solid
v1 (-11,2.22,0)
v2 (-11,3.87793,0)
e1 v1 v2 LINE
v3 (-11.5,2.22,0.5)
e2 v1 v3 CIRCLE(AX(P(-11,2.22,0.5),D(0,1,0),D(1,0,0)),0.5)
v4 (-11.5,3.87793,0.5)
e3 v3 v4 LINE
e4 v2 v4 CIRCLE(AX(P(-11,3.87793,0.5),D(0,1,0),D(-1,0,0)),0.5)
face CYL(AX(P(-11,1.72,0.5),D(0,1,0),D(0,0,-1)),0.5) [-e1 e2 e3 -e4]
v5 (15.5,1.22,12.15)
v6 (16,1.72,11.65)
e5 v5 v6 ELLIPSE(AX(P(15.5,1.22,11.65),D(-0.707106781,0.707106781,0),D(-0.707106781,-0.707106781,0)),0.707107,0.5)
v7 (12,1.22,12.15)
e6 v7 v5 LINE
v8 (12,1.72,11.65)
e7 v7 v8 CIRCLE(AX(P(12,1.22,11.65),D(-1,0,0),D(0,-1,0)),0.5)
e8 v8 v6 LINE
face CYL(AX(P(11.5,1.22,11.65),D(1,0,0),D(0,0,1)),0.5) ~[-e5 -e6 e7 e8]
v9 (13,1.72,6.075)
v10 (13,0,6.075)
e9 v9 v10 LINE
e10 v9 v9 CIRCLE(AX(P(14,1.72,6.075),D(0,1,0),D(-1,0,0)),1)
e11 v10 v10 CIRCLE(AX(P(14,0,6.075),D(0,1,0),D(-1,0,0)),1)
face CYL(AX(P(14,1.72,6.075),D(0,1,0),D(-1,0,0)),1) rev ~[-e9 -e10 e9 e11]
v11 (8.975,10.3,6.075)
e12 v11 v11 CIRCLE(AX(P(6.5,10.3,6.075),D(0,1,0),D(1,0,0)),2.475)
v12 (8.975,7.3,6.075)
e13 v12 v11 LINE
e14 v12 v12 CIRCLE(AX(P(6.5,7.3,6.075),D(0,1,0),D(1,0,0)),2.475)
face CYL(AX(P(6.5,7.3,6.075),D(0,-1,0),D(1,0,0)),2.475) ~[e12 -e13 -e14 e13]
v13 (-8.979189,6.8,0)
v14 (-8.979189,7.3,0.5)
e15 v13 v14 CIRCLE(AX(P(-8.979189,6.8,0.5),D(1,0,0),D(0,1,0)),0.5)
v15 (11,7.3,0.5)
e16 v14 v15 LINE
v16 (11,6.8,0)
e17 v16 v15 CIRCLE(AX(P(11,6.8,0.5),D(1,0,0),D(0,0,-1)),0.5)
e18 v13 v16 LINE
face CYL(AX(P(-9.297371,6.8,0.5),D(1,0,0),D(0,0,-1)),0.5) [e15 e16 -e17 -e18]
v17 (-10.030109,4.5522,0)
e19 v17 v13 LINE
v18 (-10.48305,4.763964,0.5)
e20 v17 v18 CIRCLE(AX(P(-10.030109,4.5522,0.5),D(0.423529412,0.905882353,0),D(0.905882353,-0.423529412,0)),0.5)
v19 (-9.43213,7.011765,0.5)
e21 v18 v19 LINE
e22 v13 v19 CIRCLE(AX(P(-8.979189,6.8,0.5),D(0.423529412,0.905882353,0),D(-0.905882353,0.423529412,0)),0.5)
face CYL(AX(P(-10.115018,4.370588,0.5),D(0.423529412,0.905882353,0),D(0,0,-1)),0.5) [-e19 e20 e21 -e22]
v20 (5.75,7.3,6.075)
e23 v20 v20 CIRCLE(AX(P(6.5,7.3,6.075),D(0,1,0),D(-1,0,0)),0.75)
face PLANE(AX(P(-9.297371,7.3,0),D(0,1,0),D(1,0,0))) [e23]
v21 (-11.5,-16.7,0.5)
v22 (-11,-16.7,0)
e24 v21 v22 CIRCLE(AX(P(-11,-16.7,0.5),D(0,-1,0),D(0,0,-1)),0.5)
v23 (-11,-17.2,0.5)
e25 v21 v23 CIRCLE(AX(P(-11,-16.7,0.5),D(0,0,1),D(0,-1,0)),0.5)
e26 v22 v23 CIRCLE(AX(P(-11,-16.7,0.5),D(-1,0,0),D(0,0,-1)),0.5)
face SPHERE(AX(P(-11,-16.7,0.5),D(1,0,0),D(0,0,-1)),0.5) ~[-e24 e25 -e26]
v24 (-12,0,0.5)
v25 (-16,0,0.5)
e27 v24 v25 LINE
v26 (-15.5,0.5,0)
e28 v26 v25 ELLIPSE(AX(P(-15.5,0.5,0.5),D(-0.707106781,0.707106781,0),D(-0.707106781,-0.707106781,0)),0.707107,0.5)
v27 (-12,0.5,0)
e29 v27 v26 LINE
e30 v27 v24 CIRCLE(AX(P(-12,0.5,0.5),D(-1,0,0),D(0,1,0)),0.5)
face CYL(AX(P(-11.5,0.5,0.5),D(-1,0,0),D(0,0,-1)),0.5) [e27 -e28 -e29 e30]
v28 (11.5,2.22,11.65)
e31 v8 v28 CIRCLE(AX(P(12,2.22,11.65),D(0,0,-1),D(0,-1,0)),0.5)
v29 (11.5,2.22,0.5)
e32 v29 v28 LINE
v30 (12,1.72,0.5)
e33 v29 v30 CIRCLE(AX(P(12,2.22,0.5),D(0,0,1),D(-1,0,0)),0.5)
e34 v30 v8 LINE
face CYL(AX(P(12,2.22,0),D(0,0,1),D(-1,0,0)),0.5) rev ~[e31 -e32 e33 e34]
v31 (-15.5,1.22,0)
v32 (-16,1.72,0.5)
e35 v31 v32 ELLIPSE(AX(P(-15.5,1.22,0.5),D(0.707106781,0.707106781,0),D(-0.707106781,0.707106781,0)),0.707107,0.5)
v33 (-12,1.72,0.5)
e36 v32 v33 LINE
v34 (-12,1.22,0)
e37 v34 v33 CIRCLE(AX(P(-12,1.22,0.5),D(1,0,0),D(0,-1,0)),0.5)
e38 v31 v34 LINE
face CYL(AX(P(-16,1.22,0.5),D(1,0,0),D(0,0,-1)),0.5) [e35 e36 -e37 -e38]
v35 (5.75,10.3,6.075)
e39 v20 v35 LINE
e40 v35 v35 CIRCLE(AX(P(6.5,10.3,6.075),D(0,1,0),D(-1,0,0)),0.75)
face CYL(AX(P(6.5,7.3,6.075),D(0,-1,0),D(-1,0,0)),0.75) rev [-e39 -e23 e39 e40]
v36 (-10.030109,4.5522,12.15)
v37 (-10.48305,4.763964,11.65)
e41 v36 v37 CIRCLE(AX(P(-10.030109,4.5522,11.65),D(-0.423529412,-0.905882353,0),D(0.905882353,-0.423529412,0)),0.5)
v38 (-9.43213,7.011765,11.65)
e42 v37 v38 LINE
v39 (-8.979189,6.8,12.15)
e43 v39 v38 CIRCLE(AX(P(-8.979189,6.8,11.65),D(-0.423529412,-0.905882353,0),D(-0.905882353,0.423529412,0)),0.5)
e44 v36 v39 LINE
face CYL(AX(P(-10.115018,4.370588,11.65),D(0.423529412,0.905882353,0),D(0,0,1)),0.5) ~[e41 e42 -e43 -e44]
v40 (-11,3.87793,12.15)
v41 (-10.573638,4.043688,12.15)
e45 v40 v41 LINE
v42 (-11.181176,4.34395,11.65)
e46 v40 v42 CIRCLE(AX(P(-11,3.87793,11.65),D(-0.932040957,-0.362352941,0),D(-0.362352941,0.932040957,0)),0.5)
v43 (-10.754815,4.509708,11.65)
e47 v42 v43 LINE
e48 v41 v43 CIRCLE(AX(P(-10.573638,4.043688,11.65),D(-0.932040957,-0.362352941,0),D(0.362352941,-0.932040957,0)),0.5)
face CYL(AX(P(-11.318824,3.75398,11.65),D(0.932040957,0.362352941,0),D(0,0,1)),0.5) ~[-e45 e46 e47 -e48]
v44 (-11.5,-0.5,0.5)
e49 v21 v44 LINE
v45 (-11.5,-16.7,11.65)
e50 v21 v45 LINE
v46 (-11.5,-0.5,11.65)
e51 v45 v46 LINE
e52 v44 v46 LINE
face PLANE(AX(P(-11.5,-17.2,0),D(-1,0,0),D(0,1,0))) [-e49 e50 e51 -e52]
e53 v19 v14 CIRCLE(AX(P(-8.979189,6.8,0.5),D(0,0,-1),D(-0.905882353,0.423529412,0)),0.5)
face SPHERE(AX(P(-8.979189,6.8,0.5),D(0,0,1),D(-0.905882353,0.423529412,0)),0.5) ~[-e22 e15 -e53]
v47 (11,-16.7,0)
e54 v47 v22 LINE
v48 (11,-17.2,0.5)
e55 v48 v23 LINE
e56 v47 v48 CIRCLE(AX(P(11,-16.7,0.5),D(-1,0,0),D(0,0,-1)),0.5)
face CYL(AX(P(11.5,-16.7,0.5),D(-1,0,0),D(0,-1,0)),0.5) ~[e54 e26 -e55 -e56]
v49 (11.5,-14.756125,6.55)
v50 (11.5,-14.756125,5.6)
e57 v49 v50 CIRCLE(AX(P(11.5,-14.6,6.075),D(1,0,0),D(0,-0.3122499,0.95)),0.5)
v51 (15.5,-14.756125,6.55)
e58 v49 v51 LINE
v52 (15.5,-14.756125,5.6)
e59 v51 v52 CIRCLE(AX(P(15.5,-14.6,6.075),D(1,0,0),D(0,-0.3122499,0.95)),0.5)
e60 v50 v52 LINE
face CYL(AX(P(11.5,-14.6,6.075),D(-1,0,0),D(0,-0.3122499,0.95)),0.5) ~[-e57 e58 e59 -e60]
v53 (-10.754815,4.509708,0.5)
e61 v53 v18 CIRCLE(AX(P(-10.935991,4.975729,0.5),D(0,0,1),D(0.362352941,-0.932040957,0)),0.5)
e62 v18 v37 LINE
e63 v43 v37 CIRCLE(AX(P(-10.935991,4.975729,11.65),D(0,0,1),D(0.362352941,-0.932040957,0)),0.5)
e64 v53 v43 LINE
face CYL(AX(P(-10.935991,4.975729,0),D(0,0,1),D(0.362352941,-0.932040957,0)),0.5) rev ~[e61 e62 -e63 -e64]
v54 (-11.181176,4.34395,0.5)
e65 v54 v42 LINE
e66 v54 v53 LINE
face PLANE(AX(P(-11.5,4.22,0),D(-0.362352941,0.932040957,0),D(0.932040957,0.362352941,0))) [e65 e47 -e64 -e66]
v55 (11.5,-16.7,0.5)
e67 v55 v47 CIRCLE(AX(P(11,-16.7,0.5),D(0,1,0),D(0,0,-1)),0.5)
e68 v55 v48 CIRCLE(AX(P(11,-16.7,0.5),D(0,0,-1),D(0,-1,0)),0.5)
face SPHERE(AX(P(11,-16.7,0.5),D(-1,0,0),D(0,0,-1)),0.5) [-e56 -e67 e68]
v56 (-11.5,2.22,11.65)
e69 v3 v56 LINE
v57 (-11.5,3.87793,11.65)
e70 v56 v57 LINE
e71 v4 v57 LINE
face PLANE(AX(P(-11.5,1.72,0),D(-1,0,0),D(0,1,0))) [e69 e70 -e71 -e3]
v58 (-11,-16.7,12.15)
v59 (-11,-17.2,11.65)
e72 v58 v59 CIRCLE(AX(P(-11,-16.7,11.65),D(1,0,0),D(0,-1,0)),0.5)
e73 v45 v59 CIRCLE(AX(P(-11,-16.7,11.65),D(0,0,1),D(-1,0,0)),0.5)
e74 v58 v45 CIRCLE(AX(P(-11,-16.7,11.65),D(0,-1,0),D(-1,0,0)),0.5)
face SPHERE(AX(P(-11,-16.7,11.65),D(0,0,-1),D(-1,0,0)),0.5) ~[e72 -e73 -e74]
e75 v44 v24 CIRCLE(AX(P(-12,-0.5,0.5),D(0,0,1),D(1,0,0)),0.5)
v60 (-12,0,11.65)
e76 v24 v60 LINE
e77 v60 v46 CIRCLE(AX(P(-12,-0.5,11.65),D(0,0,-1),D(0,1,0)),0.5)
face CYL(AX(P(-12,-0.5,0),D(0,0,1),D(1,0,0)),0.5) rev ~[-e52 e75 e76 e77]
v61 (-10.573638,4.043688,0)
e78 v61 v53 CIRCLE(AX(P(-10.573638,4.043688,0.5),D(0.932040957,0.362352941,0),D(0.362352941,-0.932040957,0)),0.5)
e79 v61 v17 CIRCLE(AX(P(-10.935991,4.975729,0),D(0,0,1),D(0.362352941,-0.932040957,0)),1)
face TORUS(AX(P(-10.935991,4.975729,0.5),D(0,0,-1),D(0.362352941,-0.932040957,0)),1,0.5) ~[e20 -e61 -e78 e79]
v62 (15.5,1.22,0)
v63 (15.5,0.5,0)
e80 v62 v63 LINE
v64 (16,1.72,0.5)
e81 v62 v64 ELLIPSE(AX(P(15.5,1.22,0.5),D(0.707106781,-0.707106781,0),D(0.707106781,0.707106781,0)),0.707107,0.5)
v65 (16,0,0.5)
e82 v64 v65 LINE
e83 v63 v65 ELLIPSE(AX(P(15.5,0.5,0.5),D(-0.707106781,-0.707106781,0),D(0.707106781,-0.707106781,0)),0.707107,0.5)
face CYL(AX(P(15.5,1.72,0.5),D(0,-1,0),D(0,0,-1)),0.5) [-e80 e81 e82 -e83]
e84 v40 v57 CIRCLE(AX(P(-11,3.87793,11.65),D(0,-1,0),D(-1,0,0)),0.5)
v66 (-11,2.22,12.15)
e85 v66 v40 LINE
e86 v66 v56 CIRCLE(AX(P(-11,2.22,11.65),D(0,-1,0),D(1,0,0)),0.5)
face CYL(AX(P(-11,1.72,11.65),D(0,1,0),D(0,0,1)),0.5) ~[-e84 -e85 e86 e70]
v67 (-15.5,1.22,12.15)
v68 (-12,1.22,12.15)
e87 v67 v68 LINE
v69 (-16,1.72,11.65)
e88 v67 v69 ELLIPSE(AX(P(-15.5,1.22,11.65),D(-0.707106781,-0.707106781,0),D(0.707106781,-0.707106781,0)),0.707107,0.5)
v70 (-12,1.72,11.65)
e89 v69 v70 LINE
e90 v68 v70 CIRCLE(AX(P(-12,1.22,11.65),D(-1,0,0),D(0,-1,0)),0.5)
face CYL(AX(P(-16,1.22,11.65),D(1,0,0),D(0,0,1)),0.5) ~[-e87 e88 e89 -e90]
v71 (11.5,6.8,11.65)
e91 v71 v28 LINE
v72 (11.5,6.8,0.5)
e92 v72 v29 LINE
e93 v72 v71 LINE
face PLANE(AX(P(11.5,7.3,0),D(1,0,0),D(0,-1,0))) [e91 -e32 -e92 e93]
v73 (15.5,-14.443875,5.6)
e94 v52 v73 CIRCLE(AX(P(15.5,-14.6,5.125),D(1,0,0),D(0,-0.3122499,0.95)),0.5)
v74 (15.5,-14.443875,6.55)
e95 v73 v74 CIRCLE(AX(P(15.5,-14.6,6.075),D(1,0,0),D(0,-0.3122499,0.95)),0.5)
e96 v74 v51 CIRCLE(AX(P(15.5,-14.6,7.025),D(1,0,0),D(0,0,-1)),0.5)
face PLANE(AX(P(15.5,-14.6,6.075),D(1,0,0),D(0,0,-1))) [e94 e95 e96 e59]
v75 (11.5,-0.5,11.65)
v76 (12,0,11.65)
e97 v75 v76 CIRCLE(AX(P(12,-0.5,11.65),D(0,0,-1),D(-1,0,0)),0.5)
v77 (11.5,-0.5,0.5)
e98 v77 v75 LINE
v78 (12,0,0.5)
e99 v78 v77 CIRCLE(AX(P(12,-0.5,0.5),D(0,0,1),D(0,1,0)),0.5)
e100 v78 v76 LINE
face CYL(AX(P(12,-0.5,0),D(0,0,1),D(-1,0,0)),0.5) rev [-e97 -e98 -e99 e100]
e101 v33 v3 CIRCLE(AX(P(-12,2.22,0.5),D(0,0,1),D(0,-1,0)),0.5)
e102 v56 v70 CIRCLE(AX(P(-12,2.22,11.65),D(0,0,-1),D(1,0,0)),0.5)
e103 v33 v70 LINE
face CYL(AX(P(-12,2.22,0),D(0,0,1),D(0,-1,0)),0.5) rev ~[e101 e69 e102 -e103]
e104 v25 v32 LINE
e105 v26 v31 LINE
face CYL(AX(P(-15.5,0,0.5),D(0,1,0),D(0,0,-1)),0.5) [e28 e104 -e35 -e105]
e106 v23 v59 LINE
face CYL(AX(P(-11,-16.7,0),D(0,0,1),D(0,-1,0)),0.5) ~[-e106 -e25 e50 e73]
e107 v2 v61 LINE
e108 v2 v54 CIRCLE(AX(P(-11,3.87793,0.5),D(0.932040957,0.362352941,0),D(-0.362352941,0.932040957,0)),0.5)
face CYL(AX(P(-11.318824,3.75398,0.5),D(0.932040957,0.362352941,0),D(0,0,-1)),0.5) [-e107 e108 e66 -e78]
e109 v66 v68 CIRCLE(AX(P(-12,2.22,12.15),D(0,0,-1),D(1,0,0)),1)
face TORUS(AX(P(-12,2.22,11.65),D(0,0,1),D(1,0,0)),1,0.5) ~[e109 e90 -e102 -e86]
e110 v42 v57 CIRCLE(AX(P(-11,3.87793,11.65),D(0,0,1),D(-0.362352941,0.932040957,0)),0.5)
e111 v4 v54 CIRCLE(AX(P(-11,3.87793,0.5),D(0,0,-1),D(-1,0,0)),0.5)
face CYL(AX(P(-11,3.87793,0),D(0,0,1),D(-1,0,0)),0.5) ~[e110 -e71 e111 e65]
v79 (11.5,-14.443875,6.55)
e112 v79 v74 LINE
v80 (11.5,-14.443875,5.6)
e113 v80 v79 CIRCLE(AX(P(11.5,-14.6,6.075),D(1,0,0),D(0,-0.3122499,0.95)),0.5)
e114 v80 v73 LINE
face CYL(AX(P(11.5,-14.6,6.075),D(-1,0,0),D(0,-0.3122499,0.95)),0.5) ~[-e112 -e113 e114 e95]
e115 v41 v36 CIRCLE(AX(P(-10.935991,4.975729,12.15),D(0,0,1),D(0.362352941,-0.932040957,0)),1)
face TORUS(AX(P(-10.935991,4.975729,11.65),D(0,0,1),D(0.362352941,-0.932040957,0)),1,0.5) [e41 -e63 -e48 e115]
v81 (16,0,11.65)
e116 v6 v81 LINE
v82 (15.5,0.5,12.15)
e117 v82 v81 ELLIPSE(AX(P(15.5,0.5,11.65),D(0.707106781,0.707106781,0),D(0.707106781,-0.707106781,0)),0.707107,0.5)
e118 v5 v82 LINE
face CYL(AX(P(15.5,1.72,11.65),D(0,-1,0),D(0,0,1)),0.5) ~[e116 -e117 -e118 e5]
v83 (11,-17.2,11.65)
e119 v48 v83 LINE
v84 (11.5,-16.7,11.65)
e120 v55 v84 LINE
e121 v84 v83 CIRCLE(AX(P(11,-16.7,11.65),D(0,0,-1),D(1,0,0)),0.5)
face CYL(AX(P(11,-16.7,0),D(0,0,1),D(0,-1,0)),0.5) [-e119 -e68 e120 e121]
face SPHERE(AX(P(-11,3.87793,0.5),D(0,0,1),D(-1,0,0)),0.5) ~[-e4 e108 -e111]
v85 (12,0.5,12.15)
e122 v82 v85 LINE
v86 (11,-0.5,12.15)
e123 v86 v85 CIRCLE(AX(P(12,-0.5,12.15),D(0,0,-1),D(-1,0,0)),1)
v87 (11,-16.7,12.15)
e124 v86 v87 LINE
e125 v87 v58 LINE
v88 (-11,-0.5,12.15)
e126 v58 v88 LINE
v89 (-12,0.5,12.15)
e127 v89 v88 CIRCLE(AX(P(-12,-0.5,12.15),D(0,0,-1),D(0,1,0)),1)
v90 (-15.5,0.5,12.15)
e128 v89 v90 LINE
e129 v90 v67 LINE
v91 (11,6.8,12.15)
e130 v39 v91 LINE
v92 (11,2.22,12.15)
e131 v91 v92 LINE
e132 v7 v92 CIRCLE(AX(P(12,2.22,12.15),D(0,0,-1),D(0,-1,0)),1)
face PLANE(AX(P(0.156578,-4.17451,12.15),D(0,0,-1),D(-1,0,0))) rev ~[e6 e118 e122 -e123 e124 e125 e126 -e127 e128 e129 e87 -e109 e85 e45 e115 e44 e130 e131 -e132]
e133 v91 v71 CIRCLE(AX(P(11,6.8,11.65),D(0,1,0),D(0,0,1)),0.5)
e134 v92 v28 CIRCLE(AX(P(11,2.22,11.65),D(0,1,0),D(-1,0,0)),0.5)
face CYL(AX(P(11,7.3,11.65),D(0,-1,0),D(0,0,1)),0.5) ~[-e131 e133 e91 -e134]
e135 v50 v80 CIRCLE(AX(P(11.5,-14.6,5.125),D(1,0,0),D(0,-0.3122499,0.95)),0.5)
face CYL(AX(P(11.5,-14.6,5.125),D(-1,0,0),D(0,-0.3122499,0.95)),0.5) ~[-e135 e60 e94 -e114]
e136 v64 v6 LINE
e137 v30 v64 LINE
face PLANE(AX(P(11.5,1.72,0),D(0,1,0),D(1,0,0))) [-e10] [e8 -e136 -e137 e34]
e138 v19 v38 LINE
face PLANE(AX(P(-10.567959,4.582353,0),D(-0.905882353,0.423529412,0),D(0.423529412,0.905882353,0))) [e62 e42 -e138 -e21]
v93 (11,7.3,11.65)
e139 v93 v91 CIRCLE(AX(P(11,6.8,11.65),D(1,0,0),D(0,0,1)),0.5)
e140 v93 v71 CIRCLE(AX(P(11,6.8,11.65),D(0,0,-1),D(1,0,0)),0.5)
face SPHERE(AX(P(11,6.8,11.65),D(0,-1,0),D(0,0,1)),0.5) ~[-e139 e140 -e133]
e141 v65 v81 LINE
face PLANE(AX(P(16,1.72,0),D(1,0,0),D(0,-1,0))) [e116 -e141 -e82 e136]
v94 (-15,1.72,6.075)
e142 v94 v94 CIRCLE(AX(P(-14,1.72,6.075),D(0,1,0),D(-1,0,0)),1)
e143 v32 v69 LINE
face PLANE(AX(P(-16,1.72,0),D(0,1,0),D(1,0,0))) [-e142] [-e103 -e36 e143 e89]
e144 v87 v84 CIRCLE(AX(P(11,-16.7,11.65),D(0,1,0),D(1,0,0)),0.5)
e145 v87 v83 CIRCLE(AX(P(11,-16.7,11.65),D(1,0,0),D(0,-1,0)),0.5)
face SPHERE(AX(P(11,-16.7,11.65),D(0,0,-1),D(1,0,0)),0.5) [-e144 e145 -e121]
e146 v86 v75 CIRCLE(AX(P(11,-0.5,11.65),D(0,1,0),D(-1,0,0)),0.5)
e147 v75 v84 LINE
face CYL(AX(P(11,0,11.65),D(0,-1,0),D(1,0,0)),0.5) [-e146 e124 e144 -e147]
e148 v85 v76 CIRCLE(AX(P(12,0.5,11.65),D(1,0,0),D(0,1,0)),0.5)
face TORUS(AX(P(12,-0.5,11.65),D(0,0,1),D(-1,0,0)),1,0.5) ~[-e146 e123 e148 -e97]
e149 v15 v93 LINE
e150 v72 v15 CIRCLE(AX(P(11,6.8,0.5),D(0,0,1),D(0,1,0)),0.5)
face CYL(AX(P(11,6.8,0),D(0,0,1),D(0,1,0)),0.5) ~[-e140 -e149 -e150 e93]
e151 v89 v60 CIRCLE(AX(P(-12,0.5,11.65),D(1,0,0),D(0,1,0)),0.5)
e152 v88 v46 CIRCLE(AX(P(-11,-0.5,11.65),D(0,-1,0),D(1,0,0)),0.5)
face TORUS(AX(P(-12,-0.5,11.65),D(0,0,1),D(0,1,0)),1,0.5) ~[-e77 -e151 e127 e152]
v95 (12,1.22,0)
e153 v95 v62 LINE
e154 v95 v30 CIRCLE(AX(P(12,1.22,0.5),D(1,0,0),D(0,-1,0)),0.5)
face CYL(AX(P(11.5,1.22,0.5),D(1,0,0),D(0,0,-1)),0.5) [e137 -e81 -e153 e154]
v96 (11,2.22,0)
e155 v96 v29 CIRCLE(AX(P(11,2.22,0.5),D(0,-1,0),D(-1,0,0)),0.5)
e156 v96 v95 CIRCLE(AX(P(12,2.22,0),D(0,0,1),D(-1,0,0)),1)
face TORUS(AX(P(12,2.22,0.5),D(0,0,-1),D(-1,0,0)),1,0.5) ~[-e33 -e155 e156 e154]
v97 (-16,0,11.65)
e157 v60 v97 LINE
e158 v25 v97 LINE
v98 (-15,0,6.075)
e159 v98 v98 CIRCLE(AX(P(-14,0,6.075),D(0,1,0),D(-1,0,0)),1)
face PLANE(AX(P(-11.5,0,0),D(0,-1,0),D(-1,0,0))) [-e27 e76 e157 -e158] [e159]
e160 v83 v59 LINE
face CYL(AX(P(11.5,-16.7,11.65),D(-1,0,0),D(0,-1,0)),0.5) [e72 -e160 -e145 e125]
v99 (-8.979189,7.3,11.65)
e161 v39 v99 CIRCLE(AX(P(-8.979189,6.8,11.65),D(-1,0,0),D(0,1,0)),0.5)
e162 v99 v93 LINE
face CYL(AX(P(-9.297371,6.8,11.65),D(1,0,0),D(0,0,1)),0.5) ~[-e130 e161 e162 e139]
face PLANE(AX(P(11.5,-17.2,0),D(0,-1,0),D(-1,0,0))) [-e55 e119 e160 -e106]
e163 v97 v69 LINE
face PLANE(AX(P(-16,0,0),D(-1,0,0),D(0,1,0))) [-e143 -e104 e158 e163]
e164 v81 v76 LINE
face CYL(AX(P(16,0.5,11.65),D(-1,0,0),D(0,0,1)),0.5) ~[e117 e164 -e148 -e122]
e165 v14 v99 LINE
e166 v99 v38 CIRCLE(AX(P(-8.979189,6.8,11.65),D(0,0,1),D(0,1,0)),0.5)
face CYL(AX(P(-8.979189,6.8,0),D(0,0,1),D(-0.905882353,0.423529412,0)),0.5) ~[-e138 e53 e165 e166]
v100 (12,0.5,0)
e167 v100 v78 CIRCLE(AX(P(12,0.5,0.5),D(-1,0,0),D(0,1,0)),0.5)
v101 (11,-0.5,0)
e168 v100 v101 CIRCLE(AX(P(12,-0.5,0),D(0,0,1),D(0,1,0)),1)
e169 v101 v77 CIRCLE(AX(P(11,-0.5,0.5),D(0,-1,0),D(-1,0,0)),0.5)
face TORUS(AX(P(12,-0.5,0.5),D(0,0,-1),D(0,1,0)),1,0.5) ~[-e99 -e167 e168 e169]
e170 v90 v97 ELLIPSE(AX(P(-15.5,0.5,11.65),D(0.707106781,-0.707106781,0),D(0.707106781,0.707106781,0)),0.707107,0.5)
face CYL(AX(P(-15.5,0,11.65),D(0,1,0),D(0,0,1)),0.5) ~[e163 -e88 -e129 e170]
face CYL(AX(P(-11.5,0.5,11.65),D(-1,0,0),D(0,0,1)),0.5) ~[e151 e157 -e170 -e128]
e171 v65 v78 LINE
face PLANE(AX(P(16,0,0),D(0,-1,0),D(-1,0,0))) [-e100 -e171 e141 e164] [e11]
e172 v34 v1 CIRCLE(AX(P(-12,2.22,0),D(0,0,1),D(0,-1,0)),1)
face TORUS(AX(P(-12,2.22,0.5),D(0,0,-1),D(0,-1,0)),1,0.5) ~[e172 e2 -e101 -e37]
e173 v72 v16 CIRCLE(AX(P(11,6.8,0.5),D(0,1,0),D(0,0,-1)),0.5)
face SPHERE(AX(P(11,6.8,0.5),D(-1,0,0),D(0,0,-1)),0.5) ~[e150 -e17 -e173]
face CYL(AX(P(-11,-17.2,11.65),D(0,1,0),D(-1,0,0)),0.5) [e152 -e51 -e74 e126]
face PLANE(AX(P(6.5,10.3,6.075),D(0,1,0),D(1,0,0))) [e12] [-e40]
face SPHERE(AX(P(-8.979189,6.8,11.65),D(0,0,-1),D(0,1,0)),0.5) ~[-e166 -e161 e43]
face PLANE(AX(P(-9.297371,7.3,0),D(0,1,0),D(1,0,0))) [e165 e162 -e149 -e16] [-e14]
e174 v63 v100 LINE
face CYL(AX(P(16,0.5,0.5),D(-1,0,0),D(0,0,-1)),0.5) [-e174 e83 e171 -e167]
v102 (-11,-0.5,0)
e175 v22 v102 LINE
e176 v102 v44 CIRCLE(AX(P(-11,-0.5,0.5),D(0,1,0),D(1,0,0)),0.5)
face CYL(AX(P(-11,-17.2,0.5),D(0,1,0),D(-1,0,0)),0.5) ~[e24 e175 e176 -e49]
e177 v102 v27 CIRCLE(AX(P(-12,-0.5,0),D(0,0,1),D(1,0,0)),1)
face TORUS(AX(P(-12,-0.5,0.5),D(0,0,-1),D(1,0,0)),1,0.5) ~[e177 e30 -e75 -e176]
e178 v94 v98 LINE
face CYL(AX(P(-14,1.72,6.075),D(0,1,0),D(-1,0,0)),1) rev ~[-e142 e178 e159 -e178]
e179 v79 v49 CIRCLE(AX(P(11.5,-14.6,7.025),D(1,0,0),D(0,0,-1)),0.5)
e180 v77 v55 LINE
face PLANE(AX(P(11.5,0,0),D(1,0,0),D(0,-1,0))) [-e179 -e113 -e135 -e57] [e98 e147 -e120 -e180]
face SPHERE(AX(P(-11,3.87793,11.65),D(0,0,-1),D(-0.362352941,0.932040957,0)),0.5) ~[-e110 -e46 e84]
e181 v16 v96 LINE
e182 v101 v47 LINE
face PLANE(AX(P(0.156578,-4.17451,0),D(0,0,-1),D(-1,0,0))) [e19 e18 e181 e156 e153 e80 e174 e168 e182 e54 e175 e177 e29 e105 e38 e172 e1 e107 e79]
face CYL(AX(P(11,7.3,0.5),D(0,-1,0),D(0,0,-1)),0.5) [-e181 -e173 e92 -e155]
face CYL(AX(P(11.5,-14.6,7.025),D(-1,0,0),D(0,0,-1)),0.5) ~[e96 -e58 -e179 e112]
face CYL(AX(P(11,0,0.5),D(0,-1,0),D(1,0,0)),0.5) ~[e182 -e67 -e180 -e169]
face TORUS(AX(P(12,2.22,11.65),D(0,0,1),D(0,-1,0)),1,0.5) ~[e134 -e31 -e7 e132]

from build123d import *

# Parameters (mm, degrees)
BOSS_EXTRU_1_DEPTH      = 12.15
ESQUISSE2_R             = 1
ENL_V_MAT_EXTRU_1_DEPTH = 28.596900188
ESQUISSE4_R             = 0.5
BOSS_EXTRU_4_DEPTH      = 4
ESQUISSE5_R             = 2.475
ESQUISSE5_R_2           = 0.75
BOSS_EXTRU_5_DEPTH      = 3
CONG_1_R                = 0.5


with BuildPart() as part:
    # Esquisse1 → Boss.-Extru.1 (new body)
    with BuildSketch(Plane.XY):
        Polygon((11.5, -17.2), (-11.5, -17.2), (-11.5, 0), (-16, 0), (-16, 1.72), (-11.5, 1.72), (-11.5, 4.22), (-10.567959043, 4.582352941), (-9.297370807, 7.3), (11.5, 7.3), (11.5, 1.72), (16, 1.72), (16, 0), (11.5, 0), align=None)
    extrude(amount=BOSS_EXTRU_1_DEPTH)

    # Esquisse2 → Enlèv. mat.-Extru.1 (cut, through all)
    with BuildSketch(Plane(origin=(0, 1.72, 0), x_dir=(1, 0, 0), z_dir=(0, 1, 0))):
        with Locations(Location((-14, -6.075, 0), (0, 0, 180))):
            Circle(ESQUISSE2_R)
        with Locations(Location((14, -6.075, 0), (0, 0, 180))):
            Circle(ESQUISSE2_R)
    extrude(amount=-ENL_V_MAT_EXTRU_1_DEPTH, mode=Mode.SUBTRACT)

    # Esquisse4 → Boss.-Extru.4 (add)
    with BuildSketch(Plane(origin=(11.5, 0, 0), x_dir=(0, 0, -1), z_dir=(1, 0, 0))):
        with Locations((-6.075, -14.6)):
            Circle(ESQUISSE4_R)
        with Locations((-7.025, -14.6)):
            Circle(ESQUISSE4_R)
        with Locations((-5.125, -14.6)):
            Circle(ESQUISSE4_R)
    extrude(amount=BOSS_EXTRU_4_DEPTH)

    # Esquisse5 → Boss.-Extru.5 (add)
    with BuildSketch(Plane(origin=(0, 7.3, 0), x_dir=(1, 0, 0), z_dir=(0, 1, 0))):
        with Locations((6.5, -6.075)):
            Circle(ESQUISSE5_R)
        with Locations(Location((6.5, -6.075, 0), (0, 0, 180))):
            Circle(ESQUISSE5_R_2, mode=Mode.SUBTRACT)
    extrude(amount=BOSS_EXTRU_5_DEPTH)

    # Congé1
    cong_1_edges = [part.edges().sort_by_distance(p)[0] for p in [
        (16, 0.86, 12.15),
        (0, -17.2, 0),
        (-11.5, -8.6, 0),
        (13.75, 1.72, 12.15),
        (-13.75, 0, 0),
        (-16, 0.86, 0),
        (-13.75, 1.72, 0),
        (-11.5, 2.97, 0),
        (-11.033979521, 4.401176471, 0),
        (-9.932664925, 5.941176471, 0),
        (1.101314596, 7.3, 0),
        (11.5, 4.51, 12.15),
        (11.5, 4.51, 0),
        (13.75, 1.72, 0),
        (16, 0.86, 0),
        (13.75, 0, 0),
        (11.5, -8.6, 0),
        (1.101314596, 7.3, 12.15),
        (-9.932664925, 5.941176471, 12.15),
        (11.5, -17.2, 6.075),
        (-11.5, -17.2, 6.075),
        (-11.5, 0, 6.075),
        (-11.5, 1.72, 6.075),
        (-11.5, 4.22, 6.075),
        (-10.567959043, 4.582352941, 6.075),
        (-9.297370807, 7.3, 6.075),
        (11.5, 7.3, 6.075),
        (11.5, 1.72, 6.075),
        (11.5, 0, 6.075),
        (-11.033979521, 4.401176471, 12.15),
        (-11.5, 2.97, 12.15),
        (-13.75, 1.72, 12.15),
        (-16, 0.86, 12.15),
        (-13.75, 0, 12.15),
        (11.5, -8.6, 12.15),
        (-11.5, -8.6, 12.15),
        (0, -17.2, 12.15),
        (13.75, 0, 12.15),
    ]]
    fillet(cong_1_edges, radius=CONG_1_R)


solid = part.part
